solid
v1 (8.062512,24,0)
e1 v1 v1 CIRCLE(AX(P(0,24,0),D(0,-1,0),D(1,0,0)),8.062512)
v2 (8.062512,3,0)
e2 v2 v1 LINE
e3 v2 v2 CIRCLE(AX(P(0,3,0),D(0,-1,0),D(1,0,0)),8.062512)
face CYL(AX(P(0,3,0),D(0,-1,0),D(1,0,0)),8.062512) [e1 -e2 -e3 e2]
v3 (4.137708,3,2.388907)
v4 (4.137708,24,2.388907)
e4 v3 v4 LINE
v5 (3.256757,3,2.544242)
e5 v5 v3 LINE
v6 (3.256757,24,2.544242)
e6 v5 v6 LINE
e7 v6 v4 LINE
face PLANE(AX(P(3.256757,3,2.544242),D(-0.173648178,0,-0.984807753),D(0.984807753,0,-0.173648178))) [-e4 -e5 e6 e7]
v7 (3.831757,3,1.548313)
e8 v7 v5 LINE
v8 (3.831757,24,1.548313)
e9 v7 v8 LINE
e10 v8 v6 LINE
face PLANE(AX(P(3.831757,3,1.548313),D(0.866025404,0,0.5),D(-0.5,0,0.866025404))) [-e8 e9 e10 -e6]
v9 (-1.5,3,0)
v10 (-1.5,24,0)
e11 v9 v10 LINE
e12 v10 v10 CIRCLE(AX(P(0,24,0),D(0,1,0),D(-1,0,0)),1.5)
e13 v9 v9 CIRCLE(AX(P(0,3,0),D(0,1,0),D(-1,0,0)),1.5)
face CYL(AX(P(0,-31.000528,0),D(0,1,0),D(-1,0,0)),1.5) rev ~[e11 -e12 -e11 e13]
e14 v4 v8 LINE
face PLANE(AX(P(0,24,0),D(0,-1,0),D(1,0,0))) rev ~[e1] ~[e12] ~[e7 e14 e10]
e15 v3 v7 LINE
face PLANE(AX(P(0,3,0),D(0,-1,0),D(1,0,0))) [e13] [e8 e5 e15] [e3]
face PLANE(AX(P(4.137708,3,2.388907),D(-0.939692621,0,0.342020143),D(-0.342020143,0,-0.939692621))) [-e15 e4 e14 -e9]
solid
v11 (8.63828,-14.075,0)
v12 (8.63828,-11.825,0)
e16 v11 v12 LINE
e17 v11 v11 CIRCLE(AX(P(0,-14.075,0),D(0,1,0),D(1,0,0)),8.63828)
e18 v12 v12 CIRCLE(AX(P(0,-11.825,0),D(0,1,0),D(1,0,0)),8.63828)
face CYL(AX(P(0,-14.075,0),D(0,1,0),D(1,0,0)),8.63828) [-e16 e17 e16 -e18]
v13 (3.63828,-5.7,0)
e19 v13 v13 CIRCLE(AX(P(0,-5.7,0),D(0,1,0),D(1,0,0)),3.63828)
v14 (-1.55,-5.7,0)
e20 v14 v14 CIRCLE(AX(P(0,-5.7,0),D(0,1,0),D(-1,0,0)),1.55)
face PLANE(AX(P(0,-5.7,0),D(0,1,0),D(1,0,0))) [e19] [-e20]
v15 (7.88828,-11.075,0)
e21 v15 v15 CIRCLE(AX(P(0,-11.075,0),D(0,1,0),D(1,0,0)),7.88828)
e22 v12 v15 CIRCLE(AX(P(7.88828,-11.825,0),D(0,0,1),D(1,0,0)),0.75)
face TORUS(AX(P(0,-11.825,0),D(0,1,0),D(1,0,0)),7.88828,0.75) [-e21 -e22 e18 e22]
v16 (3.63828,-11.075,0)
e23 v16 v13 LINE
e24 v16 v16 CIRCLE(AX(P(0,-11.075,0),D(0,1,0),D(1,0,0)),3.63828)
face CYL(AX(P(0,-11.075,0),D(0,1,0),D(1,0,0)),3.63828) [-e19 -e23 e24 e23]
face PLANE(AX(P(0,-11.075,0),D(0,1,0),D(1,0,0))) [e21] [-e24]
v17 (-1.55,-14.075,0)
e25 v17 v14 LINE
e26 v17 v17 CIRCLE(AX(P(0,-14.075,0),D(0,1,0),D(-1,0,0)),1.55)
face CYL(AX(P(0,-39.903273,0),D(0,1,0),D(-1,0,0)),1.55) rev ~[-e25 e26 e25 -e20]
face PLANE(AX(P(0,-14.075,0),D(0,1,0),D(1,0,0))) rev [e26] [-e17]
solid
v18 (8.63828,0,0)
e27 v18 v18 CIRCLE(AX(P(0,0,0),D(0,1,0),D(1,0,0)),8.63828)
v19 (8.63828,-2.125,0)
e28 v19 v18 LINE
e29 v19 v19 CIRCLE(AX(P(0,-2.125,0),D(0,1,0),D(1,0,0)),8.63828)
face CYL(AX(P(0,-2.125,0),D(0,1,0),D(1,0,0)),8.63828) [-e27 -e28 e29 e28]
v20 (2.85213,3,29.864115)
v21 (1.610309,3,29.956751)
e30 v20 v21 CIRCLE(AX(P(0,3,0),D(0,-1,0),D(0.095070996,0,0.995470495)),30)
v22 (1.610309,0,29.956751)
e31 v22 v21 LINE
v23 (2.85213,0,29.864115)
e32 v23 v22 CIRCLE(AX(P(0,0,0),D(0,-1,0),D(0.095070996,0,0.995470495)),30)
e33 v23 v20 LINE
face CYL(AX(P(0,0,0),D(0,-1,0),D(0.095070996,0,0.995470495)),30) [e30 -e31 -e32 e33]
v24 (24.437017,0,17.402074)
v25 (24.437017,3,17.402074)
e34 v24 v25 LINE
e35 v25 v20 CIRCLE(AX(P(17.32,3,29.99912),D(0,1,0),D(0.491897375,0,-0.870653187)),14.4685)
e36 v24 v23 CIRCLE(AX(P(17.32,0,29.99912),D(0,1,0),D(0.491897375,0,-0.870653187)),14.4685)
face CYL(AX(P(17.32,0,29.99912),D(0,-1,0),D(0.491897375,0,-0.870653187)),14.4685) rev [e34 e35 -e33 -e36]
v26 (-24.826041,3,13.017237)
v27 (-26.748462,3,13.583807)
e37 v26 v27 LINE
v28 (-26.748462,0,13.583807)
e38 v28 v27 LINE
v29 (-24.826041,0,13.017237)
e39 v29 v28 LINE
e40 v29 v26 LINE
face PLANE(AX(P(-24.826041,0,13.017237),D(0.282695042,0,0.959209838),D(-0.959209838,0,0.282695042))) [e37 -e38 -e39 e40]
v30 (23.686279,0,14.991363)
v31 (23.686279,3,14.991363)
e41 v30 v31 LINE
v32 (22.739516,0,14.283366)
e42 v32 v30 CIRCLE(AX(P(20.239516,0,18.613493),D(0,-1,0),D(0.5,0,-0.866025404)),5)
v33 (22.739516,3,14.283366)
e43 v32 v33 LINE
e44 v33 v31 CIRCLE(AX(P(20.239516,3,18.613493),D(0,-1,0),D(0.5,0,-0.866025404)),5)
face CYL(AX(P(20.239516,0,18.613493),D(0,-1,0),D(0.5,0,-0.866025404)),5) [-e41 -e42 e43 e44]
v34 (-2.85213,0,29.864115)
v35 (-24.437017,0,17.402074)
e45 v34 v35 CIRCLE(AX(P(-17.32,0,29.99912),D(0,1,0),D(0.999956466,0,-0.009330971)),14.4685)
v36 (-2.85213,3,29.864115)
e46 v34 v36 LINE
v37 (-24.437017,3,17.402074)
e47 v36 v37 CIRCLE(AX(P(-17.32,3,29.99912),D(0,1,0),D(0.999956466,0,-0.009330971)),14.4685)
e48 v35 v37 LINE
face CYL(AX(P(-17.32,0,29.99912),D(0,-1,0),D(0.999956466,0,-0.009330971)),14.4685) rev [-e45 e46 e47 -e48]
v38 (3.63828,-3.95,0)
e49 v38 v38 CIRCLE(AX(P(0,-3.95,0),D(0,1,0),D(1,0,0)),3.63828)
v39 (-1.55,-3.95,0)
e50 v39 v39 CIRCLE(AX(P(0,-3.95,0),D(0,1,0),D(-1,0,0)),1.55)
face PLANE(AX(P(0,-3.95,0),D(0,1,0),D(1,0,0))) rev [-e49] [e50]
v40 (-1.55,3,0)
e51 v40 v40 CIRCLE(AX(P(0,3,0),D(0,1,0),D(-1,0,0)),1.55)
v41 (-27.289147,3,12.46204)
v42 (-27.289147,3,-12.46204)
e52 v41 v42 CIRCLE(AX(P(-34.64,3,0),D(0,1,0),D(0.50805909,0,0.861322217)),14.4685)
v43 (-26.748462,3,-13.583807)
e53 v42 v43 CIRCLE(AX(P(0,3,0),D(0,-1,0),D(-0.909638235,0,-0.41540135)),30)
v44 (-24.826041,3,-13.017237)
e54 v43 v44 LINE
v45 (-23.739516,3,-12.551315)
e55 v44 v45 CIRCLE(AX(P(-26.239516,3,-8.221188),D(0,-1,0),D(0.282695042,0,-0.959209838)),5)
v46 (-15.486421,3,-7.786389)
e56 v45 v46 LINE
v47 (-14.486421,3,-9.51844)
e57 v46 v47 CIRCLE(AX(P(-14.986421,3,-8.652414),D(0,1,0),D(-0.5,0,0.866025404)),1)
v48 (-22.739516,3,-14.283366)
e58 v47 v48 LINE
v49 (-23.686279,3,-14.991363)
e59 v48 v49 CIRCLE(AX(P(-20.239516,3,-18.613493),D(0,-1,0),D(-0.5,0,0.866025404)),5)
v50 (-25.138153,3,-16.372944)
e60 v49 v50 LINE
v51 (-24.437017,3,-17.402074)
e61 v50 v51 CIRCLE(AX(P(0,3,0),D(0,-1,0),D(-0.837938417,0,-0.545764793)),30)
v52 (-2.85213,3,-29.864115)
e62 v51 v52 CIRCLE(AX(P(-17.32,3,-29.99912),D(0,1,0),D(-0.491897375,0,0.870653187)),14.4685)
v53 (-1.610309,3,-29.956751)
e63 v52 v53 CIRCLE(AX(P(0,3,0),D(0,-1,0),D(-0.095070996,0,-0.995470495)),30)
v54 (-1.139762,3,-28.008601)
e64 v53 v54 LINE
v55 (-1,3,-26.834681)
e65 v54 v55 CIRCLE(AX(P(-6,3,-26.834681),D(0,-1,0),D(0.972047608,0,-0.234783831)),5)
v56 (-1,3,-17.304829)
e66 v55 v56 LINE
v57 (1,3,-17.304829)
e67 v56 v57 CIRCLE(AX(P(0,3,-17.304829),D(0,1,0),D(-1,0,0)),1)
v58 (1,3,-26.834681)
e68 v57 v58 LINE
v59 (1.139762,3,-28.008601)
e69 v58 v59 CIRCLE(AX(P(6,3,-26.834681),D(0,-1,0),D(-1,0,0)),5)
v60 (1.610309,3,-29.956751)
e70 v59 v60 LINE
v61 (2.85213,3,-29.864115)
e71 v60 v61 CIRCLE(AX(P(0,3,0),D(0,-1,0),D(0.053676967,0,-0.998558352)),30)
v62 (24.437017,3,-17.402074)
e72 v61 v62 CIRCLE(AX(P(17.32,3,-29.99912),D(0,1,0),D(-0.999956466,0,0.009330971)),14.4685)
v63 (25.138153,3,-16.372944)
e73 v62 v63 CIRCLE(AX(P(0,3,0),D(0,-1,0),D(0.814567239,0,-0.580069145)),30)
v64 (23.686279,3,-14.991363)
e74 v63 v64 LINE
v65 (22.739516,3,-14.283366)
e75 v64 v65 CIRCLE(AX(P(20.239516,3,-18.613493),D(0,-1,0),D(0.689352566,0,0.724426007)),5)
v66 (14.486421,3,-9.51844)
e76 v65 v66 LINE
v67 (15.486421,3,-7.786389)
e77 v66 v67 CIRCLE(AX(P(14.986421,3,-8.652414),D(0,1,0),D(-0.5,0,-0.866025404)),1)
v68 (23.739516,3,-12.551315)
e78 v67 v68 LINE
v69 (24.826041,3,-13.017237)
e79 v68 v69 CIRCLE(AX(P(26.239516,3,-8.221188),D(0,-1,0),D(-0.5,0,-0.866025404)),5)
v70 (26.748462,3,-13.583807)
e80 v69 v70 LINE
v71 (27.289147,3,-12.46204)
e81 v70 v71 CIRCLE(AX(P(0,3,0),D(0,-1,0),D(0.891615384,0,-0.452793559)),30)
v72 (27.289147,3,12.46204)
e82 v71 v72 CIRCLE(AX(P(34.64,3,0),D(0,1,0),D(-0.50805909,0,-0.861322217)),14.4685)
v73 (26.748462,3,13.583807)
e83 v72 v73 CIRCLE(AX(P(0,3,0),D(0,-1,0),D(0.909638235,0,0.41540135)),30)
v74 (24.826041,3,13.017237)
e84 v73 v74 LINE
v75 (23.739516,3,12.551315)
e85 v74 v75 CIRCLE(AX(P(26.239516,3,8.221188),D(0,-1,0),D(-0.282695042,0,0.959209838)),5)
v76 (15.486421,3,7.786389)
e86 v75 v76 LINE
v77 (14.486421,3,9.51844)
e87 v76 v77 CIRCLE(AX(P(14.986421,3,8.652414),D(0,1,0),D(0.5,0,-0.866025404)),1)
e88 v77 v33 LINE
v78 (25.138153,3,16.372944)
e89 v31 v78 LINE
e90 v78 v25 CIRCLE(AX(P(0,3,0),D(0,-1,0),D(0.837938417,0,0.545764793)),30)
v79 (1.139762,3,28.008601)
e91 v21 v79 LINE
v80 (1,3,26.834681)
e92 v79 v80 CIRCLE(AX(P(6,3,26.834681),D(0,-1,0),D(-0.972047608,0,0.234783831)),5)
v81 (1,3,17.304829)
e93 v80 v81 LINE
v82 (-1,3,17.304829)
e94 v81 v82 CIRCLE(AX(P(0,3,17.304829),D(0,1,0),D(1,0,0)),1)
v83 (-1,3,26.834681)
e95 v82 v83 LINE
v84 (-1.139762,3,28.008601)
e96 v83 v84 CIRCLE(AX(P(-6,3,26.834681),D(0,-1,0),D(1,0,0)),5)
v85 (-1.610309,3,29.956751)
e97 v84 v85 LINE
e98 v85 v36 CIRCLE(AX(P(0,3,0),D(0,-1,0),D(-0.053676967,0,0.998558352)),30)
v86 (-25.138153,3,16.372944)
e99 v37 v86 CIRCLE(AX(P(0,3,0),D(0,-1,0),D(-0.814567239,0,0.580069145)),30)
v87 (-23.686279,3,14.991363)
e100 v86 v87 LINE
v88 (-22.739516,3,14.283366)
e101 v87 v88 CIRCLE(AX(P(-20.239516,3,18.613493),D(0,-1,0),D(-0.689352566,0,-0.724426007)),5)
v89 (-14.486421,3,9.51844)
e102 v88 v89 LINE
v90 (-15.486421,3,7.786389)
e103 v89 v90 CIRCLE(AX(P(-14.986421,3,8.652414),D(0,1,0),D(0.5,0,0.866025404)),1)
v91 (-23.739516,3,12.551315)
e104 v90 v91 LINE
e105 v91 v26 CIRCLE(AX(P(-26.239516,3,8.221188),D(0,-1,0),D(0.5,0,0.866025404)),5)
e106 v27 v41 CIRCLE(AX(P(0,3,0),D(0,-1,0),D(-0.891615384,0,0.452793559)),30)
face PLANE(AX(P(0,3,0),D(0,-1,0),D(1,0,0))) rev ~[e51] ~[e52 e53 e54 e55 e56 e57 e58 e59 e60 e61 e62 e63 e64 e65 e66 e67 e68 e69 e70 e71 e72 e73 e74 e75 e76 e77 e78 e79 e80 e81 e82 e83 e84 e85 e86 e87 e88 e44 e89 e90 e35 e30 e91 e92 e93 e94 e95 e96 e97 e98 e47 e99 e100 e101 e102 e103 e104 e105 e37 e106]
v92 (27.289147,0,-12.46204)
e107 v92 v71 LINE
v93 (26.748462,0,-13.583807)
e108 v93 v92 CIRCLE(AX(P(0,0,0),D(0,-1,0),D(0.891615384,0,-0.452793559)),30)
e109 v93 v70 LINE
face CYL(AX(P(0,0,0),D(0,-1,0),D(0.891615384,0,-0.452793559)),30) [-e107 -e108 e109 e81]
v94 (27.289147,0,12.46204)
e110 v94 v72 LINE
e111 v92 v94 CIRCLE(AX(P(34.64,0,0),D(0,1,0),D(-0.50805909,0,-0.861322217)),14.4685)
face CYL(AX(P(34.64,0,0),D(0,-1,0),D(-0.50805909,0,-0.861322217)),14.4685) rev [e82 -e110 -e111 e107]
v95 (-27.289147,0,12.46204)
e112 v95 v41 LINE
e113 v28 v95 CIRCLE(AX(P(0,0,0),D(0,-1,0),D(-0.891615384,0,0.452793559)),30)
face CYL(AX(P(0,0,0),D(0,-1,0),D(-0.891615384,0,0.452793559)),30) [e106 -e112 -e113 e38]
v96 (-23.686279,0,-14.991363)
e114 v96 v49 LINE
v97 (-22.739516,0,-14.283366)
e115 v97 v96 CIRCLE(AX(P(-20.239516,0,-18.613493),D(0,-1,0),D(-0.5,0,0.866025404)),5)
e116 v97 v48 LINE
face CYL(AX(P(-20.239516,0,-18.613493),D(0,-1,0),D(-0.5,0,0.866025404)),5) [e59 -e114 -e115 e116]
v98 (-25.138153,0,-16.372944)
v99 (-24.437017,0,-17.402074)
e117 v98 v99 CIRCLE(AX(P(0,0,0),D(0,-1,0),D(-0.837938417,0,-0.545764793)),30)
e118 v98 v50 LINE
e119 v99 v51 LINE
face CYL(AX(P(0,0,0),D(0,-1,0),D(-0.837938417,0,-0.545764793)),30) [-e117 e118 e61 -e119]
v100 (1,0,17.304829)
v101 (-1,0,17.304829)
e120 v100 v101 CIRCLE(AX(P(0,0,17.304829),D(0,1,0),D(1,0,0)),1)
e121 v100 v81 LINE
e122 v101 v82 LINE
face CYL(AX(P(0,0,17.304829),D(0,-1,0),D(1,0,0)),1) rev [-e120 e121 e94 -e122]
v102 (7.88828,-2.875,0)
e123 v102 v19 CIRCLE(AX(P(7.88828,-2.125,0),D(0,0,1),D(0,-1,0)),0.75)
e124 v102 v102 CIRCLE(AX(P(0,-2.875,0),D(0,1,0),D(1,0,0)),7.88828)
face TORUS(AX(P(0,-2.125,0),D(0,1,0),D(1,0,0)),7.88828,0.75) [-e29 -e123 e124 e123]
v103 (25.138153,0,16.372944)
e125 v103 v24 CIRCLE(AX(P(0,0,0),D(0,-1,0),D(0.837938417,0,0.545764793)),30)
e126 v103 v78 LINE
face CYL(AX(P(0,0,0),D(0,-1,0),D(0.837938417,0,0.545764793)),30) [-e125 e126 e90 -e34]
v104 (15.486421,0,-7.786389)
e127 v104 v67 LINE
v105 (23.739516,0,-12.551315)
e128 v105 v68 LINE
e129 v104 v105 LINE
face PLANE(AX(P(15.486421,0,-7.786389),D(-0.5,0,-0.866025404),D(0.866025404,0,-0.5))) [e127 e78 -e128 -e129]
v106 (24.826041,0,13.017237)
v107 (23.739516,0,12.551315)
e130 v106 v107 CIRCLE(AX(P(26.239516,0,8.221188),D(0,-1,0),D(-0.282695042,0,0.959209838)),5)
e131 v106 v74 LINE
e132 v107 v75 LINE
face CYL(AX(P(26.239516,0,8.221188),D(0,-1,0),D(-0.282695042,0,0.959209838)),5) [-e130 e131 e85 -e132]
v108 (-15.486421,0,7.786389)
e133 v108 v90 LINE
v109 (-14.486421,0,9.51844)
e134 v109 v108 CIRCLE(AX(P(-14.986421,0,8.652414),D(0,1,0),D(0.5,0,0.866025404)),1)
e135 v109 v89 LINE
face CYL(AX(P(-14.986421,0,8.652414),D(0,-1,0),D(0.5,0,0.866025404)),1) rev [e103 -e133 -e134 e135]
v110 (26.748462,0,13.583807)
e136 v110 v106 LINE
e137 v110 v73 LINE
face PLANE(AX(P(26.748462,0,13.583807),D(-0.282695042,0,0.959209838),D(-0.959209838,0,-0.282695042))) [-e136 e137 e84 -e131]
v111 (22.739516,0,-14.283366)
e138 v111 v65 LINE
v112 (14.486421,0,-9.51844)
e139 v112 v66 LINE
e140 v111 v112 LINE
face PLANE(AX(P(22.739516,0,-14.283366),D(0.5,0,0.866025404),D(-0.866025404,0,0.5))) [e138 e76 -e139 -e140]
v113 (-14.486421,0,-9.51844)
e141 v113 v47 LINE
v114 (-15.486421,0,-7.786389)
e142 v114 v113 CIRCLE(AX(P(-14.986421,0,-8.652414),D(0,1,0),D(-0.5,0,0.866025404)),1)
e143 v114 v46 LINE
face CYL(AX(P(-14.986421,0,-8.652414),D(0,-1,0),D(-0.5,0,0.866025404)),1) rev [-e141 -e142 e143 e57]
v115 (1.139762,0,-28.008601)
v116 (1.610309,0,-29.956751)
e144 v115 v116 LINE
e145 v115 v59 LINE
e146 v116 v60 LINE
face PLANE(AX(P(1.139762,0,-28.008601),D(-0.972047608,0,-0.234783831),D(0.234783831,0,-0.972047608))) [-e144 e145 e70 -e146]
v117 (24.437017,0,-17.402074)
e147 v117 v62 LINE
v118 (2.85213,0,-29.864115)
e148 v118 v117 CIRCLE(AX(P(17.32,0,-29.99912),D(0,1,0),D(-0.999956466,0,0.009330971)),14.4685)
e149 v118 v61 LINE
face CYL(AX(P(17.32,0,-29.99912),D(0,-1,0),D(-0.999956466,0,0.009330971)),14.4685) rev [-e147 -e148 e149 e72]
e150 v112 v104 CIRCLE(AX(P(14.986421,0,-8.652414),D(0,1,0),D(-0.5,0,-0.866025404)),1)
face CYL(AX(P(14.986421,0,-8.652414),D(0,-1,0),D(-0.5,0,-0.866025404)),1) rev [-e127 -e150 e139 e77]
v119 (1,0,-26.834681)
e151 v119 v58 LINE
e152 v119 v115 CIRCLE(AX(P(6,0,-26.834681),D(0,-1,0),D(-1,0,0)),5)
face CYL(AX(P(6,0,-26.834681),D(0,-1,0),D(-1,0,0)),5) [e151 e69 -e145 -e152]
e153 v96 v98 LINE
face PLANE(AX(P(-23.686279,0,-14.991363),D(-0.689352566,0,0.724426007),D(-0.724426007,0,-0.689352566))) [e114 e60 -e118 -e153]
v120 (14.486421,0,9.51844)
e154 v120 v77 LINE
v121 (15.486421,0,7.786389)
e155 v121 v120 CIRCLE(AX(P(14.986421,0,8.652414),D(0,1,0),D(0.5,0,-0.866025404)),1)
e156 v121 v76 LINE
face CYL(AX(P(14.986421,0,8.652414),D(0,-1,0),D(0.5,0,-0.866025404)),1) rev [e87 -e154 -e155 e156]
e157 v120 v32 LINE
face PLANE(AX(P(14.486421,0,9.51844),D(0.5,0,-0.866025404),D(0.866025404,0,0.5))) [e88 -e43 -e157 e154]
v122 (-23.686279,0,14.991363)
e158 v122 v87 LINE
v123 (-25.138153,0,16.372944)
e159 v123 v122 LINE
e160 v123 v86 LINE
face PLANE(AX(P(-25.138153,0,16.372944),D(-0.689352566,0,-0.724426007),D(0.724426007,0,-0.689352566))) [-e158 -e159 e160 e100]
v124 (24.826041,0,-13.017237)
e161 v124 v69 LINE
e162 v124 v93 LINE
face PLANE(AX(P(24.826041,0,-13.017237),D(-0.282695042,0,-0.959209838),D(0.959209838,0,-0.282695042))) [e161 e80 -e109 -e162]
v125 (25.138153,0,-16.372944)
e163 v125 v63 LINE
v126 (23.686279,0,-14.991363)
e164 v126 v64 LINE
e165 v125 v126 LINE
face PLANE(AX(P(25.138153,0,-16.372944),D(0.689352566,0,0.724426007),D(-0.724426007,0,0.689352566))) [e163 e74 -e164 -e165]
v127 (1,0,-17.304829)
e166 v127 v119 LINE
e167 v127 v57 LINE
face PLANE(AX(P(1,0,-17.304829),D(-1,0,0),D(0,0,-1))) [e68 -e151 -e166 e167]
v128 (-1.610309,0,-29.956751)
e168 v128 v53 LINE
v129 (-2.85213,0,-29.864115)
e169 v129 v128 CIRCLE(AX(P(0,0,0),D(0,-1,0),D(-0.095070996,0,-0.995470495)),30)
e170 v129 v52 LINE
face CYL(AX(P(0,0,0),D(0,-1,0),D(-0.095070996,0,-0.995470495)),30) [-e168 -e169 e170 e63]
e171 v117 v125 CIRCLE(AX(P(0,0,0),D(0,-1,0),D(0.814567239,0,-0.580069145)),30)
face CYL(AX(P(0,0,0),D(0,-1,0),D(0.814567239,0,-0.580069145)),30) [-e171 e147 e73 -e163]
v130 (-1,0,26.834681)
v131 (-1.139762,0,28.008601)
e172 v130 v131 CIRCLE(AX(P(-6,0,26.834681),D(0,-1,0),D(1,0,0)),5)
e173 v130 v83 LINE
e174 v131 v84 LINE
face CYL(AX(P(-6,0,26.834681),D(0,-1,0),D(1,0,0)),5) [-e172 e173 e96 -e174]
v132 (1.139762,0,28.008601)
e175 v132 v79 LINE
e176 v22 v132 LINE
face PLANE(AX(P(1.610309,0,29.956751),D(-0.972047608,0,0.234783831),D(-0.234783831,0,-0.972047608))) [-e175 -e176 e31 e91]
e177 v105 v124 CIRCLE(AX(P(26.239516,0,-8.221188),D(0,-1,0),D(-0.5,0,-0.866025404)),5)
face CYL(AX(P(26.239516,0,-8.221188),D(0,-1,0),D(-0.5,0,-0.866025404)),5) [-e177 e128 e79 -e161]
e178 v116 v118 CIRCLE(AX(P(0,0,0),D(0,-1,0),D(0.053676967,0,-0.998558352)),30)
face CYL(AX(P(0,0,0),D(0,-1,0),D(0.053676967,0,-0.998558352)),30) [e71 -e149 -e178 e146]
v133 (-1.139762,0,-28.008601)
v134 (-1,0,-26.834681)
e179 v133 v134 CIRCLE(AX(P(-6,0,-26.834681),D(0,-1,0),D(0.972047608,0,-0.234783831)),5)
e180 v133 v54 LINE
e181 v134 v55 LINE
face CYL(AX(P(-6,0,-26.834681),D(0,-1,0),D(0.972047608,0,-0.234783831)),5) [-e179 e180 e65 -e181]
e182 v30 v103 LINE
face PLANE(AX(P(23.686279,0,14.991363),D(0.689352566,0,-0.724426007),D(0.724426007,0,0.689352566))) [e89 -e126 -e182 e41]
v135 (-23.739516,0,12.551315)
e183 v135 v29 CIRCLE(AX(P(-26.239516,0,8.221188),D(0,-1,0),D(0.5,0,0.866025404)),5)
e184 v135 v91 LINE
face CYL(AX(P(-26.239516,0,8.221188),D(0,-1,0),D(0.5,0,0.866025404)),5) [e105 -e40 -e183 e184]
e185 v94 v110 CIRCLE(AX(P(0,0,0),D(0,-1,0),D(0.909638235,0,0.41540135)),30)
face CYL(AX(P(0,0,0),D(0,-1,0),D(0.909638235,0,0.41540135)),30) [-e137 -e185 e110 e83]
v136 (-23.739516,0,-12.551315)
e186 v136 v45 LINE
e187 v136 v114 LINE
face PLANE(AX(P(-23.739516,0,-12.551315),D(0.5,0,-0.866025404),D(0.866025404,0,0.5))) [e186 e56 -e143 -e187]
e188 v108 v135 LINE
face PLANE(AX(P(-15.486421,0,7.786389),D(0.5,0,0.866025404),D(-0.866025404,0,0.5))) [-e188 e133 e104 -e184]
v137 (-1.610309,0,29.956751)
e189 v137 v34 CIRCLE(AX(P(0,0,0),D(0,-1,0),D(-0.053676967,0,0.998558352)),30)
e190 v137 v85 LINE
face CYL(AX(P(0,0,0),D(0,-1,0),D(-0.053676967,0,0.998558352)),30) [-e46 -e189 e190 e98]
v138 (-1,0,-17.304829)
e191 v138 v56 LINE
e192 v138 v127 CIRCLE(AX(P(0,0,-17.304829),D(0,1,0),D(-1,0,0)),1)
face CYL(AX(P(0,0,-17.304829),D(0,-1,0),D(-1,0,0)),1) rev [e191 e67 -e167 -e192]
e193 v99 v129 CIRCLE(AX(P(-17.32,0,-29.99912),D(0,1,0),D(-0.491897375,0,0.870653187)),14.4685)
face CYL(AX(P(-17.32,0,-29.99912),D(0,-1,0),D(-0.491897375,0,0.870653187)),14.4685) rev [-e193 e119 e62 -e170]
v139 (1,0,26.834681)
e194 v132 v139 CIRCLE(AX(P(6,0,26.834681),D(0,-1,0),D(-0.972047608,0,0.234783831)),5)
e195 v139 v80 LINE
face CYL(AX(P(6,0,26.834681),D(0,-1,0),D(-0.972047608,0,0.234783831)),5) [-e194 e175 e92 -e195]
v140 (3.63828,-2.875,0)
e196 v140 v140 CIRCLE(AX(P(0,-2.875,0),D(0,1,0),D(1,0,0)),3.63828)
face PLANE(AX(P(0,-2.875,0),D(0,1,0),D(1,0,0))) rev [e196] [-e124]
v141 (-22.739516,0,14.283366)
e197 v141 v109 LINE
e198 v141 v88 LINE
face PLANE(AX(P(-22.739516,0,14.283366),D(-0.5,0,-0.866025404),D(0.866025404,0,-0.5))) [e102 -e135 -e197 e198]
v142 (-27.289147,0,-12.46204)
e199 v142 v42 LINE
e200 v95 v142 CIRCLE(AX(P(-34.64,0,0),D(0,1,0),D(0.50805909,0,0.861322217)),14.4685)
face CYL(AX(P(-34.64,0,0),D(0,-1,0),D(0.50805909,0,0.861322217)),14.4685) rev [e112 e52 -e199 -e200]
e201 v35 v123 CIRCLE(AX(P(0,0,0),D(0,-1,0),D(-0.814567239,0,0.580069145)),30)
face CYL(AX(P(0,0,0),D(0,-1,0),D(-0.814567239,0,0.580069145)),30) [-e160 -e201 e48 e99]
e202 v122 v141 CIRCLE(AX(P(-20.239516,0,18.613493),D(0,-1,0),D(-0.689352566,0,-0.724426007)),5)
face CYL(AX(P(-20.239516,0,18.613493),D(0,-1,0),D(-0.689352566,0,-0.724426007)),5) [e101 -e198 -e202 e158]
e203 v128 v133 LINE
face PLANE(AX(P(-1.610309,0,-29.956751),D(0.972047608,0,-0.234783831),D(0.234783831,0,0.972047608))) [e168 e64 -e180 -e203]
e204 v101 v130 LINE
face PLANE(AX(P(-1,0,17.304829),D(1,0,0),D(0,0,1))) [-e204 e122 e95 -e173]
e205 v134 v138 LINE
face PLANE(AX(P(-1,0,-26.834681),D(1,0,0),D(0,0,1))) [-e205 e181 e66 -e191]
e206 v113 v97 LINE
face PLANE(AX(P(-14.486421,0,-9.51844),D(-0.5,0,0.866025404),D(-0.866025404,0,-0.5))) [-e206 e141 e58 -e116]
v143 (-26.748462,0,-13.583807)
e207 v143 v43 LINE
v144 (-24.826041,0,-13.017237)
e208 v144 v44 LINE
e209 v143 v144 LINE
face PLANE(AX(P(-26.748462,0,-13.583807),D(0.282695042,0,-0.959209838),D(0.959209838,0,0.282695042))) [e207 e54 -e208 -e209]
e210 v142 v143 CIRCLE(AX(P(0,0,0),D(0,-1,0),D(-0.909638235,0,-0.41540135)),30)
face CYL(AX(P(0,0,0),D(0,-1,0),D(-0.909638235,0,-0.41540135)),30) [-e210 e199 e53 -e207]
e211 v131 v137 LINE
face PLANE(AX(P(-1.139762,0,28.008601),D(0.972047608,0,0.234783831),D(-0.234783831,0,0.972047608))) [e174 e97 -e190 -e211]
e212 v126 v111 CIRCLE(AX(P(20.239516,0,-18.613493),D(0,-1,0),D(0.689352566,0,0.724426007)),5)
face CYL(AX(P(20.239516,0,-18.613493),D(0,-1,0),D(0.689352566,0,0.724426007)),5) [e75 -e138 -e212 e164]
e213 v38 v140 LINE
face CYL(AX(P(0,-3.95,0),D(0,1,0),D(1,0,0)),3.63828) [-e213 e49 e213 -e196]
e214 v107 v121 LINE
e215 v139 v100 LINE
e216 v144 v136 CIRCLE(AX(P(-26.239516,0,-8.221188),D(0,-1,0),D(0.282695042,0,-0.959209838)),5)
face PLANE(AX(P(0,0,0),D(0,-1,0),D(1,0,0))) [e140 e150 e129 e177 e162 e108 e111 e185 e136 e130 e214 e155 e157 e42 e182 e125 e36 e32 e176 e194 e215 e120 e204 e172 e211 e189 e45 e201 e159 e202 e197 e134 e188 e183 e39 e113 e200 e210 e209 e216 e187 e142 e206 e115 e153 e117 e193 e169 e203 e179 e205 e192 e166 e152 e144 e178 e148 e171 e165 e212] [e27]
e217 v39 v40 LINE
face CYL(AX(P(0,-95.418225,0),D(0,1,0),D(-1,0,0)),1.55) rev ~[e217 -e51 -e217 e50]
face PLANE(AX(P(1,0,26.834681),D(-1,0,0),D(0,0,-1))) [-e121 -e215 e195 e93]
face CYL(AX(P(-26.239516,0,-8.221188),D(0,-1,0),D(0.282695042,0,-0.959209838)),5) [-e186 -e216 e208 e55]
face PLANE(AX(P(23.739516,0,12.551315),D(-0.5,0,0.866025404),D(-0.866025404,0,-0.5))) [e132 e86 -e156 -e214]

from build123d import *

# Parameters (mm, degrees)
F4_DEPTH = 3
F7_D     = 3.1
F7_2_D   = 3.1
F8_START = -3
F0_R     = 8.0625115623
F8_DEPTH = 21
F9_D     = 3


with BuildPart() as f3:
    # F2 (on Top) → F3 (revolve)
    with BuildSketch(Plane.XY):
        with BuildLine():
            Line((3.63828, -3.95), (3.63828, -2.875))
            Line((3.63828, -2.875), (7.88828, -2.875))
            ThreePointArc((7.88828, -2.875), (8.4186100859, -2.6553300859), (8.63828, -2.125))
            Line((8.63828, -2.125), (8.63828, 0.125))
            Line((8.63828, 0.125), (0, 0.125))
            Line((0, 0.125), (0, -3.95))
            Line((0, -3.95), (3.63828, -3.95))
        make_face()
    revolve(axis=Axis((0, -9.8875, 0), (0, 1, 0)))

    # F1 (on Front) → F4 (join)
    with BuildSketch(Plane.XZ):
        with BuildLine():
            ThreePointArc((27.2891470518, -12.4620404904), (20.1715, 0), (27.2891470518, 12.4620404904))
            ThreePointArc((27.2891470518, 12.4620404904), (27.0246253415, 13.025729352), (26.7484615166, 13.5838067747))
            Line((26.7484615166, 13.5838067747), (24.8260405421, 13.0172374421))
            ThreePointArc((24.8260405421, 13.0172374421), (24.268959251, 12.8165018518), (23.7395157511, 12.551315271))
            Line((23.7395157511, 12.551315271), (15.4864212633, 7.7863889468))
            ThreePointArc((15.4864212633, 7.7863889468), (14.1203958595, 8.1524143506), (14.4864212633, 9.5184397543))
            Line((14.4864212633, 9.5184397543), (22.7395157511, 14.2833660785))
            ThreePointArc((22.7395157511, 14.2833660785), (23.2338958168, 14.6092843089), (23.686278583, 14.9913630638))
            Line((23.686278583, 14.9913630638), (25.1381525053, 16.3729437982))
            ThreePointArc((25.1381525053, 16.3729437982), (24.7929251924, 16.8911473975), (24.4370171736, 17.4020743493))
            ThreePointArc((24.4370171736, 17.4020743493), (10.08575, 17.4690314324), (2.8521298782, 29.8641148397))
            ThreePointArc((2.8521298782, 29.8641148397), (2.2317001491, 29.9168767495), (1.6103090113, 29.9567505729))
            Line((1.6103090113, 29.9567505729), (1.1397619591, 28.0086005059))
            ThreePointArc((1.1397619591, 28.0086005059), (1.0350634342, 27.4257861606), (1, 26.8346813495))
            Line((1, 26.8346813495), (1, 17.3048287011))
            ThreePointArc((1, 17.3048287011), (0, 16.3048287011), (-1, 17.3048287011))
            Line((-1, 17.3048287011), (-1, 26.8346813495))
            ThreePointArc((-1, 26.8346813495), (-1.0350634342, 27.4257861606), (-1.1397619591, 28.0086005059))
            Line((-1.1397619591, 28.0086005059), (-1.6103090113, 29.9567505729))
            ThreePointArc((-1.6103090113, 29.9567505729), (-2.2317001491, 29.9168767495), (-2.8521298782, 29.8641148397))
            ThreePointArc((-2.8521298782, 29.8641148397), (-10.08575, 17.4690314324), (-24.4370171736, 17.4020743493))
            ThreePointArc((-24.4370171736, 17.4020743493), (-24.7929251924, 16.8911473975), (-25.1381525053, 16.3729437982))
            Line((-25.1381525053, 16.3729437982), (-23.686278583, 14.9913630638))
            ThreePointArc((-23.686278583, 14.9913630638), (-23.2338958168, 14.6092843089), (-22.7395157511, 14.2833660785))
            Line((-22.7395157511, 14.2833660785), (-14.4864212633, 9.5184397543))
            ThreePointArc((-14.4864212633, 9.5184397543), (-14.1203958595, 8.1524143506), (-15.4864212633, 7.7863889468))
            Line((-15.4864212633, 7.7863889468), (-23.7395157511, 12.551315271))
            ThreePointArc((-23.7395157511, 12.551315271), (-24.268959251, 12.8165018518), (-24.8260405421, 13.0172374421))
            Line((-24.8260405421, 13.0172374421), (-26.7484615166, 13.5838067747))
            ThreePointArc((-26.7484615166, 13.5838067747), (-27.0246253415, 13.025729352), (-27.2891470518, 12.4620404904))
            ThreePointArc((-27.2891470518, 12.4620404904), (-20.1715, 0), (-27.2891470518, -12.4620404904))
            ThreePointArc((-27.2891470518, -12.4620404904), (-27.0246253415, -13.025729352), (-26.7484615166, -13.5838067747))
            Line((-26.7484615166, -13.5838067747), (-24.8260405421, -13.0172374421))
            ThreePointArc((-24.8260405421, -13.0172374421), (-24.268959251, -12.8165018518), (-23.7395157511, -12.551315271))
            Line((-23.7395157511, -12.551315271), (-15.4864212633, -7.7863889468))
            ThreePointArc((-15.4864212633, -7.7863889468), (-14.1203958595, -8.1524143506), (-14.4864212633, -9.5184397543))
            Line((-14.4864212633, -9.5184397543), (-22.7395157511, -14.2833660785))
            ThreePointArc((-22.7395157511, -14.2833660785), (-23.2338958168, -14.6092843089), (-23.686278583, -14.9913630638))
            Line((-23.686278583, -14.9913630638), (-25.1381525053, -16.3729437982))
            ThreePointArc((-25.1381525053, -16.3729437982), (-24.7929251924, -16.8911473975), (-24.4370171736, -17.4020743493))
            ThreePointArc((-24.4370171736, -17.4020743493), (-10.08575, -17.4690314324), (-2.8521298782, -29.8641148397))
            ThreePointArc((-2.8521298782, -29.8641148397), (-2.2317001491, -29.9168767495), (-1.6103090113, -29.9567505729))
            Line((-1.6103090113, -29.9567505729), (-1.1397619591, -28.0086005059))
            ThreePointArc((-1.1397619591, -28.0086005059), (-1.0350634342, -27.4257861606), (-1, -26.8346813495))
            Line((-1, -26.8346813495), (-1, -17.3048287011))
            ThreePointArc((-1, -17.3048287011), (0, -16.3048287011), (1, -17.3048287011))
            Line((1, -17.3048287011), (1, -26.8346813495))
            ThreePointArc((1, -26.8346813495), (1.0350634342, -27.4257861606), (1.1397619591, -28.0086005059))
            Line((1.1397619591, -28.0086005059), (1.6103090113, -29.9567505729))
            ThreePointArc((1.6103090113, -29.9567505729), (2.2317001491, -29.9168767495), (2.8521298782, -29.8641148397))
            ThreePointArc((2.8521298782, -29.8641148397), (10.08575, -17.4690314324), (24.4370171736, -17.4020743493))
            ThreePointArc((24.4370171736, -17.4020743493), (24.7929251924, -16.8911473975), (25.1381525053, -16.3729437982))
            Line((25.1381525053, -16.3729437982), (23.686278583, -14.9913630638))
            ThreePointArc((23.686278583, -14.9913630638), (23.2338958168, -14.6092843089), (22.7395157511, -14.2833660785))
            Line((22.7395157511, -14.2833660785), (14.4864212633, -9.5184397543))
            ThreePointArc((14.4864212633, -9.5184397543), (14.1203958595, -8.1524143506), (15.4864212633, -7.7863889468))
            Line((15.4864212633, -7.7863889468), (23.7395157511, -12.551315271))
            ThreePointArc((23.7395157511, -12.551315271), (24.268959251, -12.8165018518), (24.8260405421, -13.0172374421))
            Line((24.8260405421, -13.0172374421), (26.7484615166, -13.5838067747))
            ThreePointArc((26.7484615166, -13.5838067747), (27.0246253415, -13.025729352), (27.2891470518, -12.4620404904))
        make_face()
    extrude(amount=-F4_DEPTH)

    # F7 (through all)
    with Locations(Plane.XZ.offset(14.075)):
        with Locations((0, 0)):
            Hole(F7_D / 2)


with BuildPart() as f3b:
    # F2 (on Top) → F3, piece 2 (revolve)
    with BuildSketch(Plane.XY):
        with BuildLine():
            Line((7.88828, -11.075), (3.63828, -11.075))
            Line((3.63828, -11.075), (3.63828, -5.7))
            Line((3.63828, -5.7), (0, -5.7))
            Line((0, -5.7), (0, -14.075))
            Line((0, -14.075), (8.63828, -14.075))
            Line((8.63828, -14.075), (8.63828, -11.825))
            ThreePointArc((8.63828, -11.825), (8.4186100859, -11.2946699141), (7.88828, -11.075))
        make_face()
    revolve(axis=Axis((0, -9.8875, 0), (0, 1, 0)))

    # F7#2 (through all)
    with Locations(Plane.XZ.offset(14.075)):
        with Locations((0, 0)):
            Hole(F7_2_D / 2)


with BuildPart() as f8:
    # F0 (on Front) → F8 (new body)
    with BuildSketch(Plane.XZ.offset(F8_START)):
        Circle(F0_R)
        with BuildLine():
            ThreePointArc((3.3987444888, 1.2983132359), (3.5778950136, 0.6601125888), (3.63828, 0))
            ThreePointArc((3.63828, 0), (3.5778950136, -0.6601125888), (3.3987444888, -1.2983132359))
            Line((3.3987444888, -1.2983132359), (3.8317571906, -1.5483132359))
            Line((3.8317571906, -1.5483132359), (4.1377083002, -2.388907001))
            Line((4.1377083002, -2.388907001), (3.2567571906, -2.5442424503))
            Line((3.2567571906, -2.5442424503), (2.8237444888, -2.2942424503))
            ThreePointArc((2.8237444888, -2.2942424503), (1.81914, -3.1508429061), (0.575, -3.5925556862))
            Line((0.575, -3.5925556862), (0.575, -4.0925556862))
            Line((0.575, -4.0925556862), (0, -4.7778140019))
            Line((0, -4.7778140019), (-0.575, -4.0925556862))
            Line((-0.575, -4.0925556862), (-0.575, -3.5925556862))
            ThreePointArc((-0.575, -3.5925556862), (-1.81914, -3.1508429061), (-2.8237444888, -2.2942424503))
            Line((-2.8237444888, -2.2942424503), (-3.2567571906, -2.5442424503))
            Line((-3.2567571906, -2.5442424503), (-4.1377083002, -2.388907001))
            Line((-4.1377083002, -2.388907001), (-3.8317571906, -1.5483132359))
            Line((-3.8317571906, -1.5483132359), (-3.3987444888, -1.2983132359))
            ThreePointArc((-3.3987444888, -1.2983132359), (-3.63828, 0), (-3.3987444888, 1.2983132359))
            Line((-3.3987444888, 1.2983132359), (-3.8317571906, 1.5483132359))
            Line((-3.8317571906, 1.5483132359), (-4.1377083002, 2.388907001))
            Line((-4.1377083002, 2.388907001), (-3.2567571906, 2.5442424503))
            Line((-3.2567571906, 2.5442424503), (-2.8237444888, 2.2942424503))
            ThreePointArc((-2.8237444888, 2.2942424503), (-1.81914, 3.1508429061), (-0.575, 3.5925556862))
            Line((-0.575, 3.5925556862), (-0.575, 4.0925556862))
            Line((-0.575, 4.0925556862), (0, 4.7778140019))
            Line((0, 4.7778140019), (0.575, 4.0925556862))
            Line((0.575, 4.0925556862), (0.575, 3.5925556862))
            ThreePointArc((0.575, 3.5925556862), (1.81914, 3.1508429061), (2.8237444888, 2.2942424503))
            Line((2.8237444888, 2.2942424503), (3.2567571906, 2.5442424503))
            Line((3.2567571906, 2.5442424503), (4.1377083002, 2.388907001))
            Line((4.1377083002, 2.388907001), (3.8317571906, 1.5483132359))
            Line((3.8317571906, 1.5483132359), (3.3987444888, 1.2983132359))
        make_face(mode=Mode.SUBTRACT)
        with BuildLine():
            Line((-3.2567571906, -2.5442424503), (-2.8237444888, -2.2942424503))
            ThreePointArc((-2.8237444888, -2.2942424503), (-3.1508429061, -1.81914), (-3.3987444888, -1.2983132359))
            Line((-3.3987444888, -1.2983132359), (-3.8317571906, -1.5483132359))
            Line((-3.8317571906, -1.5483132359), (-3.2567571906, -2.5442424503))
        make_face()
        Polygon((-4.1377083002, -2.388907001), (-3.2567571906, -2.5442424503), (-3.8317571906, -1.5483132359), align=None)
        with BuildLine():
            ThreePointArc((3.3987444888, -1.2983132359), (3.5778950136, -0.6601125888), (3.63828, 0))
            ThreePointArc((3.63828, 0), (3.5778950136, 0.6601125888), (3.3987444888, 1.2983132359))
            ThreePointArc((3.3987444888, 1.2983132359), (3.1508429061, 1.81914), (2.8237444888, 2.2942424503))
            ThreePointArc((2.8237444888, 2.2942424503), (1.81914, 3.1508429061), (0.575, 3.5925556862))
            ThreePointArc((0.575, 3.5925556862), (0, 3.63828), (-0.575, 3.5925556862))
            ThreePointArc((-0.575, 3.5925556862), (-1.81914, 3.1508429061), (-2.8237444888, 2.2942424503))
            ThreePointArc((-2.8237444888, 2.2942424503), (-3.1508429061, 1.81914), (-3.3987444888, 1.2983132359))
            ThreePointArc((-3.3987444888, 1.2983132359), (-3.63828, 0), (-3.3987444888, -1.2983132359))
            ThreePointArc((-3.3987444888, -1.2983132359), (-3.1508429061, -1.81914), (-2.8237444888, -2.2942424503))
            ThreePointArc((-2.8237444888, -2.2942424503), (-1.81914, -3.1508429061), (-0.575, -3.5925556862))
            ThreePointArc((-0.575, -3.5925556862), (0, -3.63828), (0.575, -3.5925556862))
            ThreePointArc((0.575, -3.5925556862), (1.81914, -3.1508429061), (2.8237444888, -2.2942424503))
            ThreePointArc((2.8237444888, -2.2942424503), (3.1508429061, -1.81914), (3.3987444888, -1.2983132359))
        make_face()
        with BuildLine():
            Line((0.575, -4.0925556862), (0.575, -3.5925556862))
            ThreePointArc((0.575, -3.5925556862), (0, -3.63828), (-0.575, -3.5925556862))
            Line((-0.575, -3.5925556862), (-0.575, -4.0925556862))
            Line((-0.575, -4.0925556862), (0.575, -4.0925556862))
        make_face()
        with BuildLine():
            ThreePointArc((-3.3987444888, 1.2983132359), (-3.1508429061, 1.81914), (-2.8237444888, 2.2942424503))
            Line((-2.8237444888, 2.2942424503), (-3.2567571906, 2.5442424503))
            Line((-3.2567571906, 2.5442424503), (-3.8317571906, 1.5483132359))
            Line((-3.8317571906, 1.5483132359), (-3.3987444888, 1.2983132359))
        make_face()
        with BuildLine():
            ThreePointArc((-0.575, 3.5925556862), (0, 3.63828), (0.575, 3.5925556862))
            Line((0.575, 3.5925556862), (0.575, 4.0925556862))
            Line((0.575, 4.0925556862), (-0.575, 4.0925556862))
            Line((-0.575, 4.0925556862), (-0.575, 3.5925556862))
        make_face()
        with BuildLine():
            ThreePointArc((2.8237444888, 2.2942424503), (3.1508429061, 1.81914), (3.3987444888, 1.2983132359))
            Line((3.3987444888, 1.2983132359), (3.8317571906, 1.5483132359))
            Line((3.8317571906, 1.5483132359), (3.2567571906, 2.5442424503))
            Line((3.2567571906, 2.5442424503), (2.8237444888, 2.2942424503))
        make_face()
        Polygon((4.1377083002, -2.388907001), (3.8317571906, -1.5483132359), (3.2567571906, -2.5442424503), align=None)
        Polygon((0, -4.7778140019), (0.575, -4.0925556862), (-0.575, -4.0925556862), align=None)
        Polygon((-3.8317571906, 1.5483132359), (-3.2567571906, 2.5442424503), (-4.1377083002, 2.388907001), align=None)
        Polygon((-0.575, 4.0925556862), (0.575, 4.0925556862), (0, 4.7778140019), align=None)
        with BuildLine():
            Line((3.8317571906, -1.5483132359), (3.3987444888, -1.2983132359))
            ThreePointArc((3.3987444888, -1.2983132359), (3.1508429061, -1.81914), (2.8237444888, -2.2942424503))
            Line((2.8237444888, -2.2942424503), (3.2567571906, -2.5442424503))
            Line((3.2567571906, -2.5442424503), (3.8317571906, -1.5483132359))
        make_face()
    extrude(amount=-F8_DEPTH)

    # F9 (through all)
    with Locations(Plane.XZ):
        with Locations((0, 0)):
            Hole(F9_D / 2)


solid = Compound([f3.part, f3b.part, f8.part])
